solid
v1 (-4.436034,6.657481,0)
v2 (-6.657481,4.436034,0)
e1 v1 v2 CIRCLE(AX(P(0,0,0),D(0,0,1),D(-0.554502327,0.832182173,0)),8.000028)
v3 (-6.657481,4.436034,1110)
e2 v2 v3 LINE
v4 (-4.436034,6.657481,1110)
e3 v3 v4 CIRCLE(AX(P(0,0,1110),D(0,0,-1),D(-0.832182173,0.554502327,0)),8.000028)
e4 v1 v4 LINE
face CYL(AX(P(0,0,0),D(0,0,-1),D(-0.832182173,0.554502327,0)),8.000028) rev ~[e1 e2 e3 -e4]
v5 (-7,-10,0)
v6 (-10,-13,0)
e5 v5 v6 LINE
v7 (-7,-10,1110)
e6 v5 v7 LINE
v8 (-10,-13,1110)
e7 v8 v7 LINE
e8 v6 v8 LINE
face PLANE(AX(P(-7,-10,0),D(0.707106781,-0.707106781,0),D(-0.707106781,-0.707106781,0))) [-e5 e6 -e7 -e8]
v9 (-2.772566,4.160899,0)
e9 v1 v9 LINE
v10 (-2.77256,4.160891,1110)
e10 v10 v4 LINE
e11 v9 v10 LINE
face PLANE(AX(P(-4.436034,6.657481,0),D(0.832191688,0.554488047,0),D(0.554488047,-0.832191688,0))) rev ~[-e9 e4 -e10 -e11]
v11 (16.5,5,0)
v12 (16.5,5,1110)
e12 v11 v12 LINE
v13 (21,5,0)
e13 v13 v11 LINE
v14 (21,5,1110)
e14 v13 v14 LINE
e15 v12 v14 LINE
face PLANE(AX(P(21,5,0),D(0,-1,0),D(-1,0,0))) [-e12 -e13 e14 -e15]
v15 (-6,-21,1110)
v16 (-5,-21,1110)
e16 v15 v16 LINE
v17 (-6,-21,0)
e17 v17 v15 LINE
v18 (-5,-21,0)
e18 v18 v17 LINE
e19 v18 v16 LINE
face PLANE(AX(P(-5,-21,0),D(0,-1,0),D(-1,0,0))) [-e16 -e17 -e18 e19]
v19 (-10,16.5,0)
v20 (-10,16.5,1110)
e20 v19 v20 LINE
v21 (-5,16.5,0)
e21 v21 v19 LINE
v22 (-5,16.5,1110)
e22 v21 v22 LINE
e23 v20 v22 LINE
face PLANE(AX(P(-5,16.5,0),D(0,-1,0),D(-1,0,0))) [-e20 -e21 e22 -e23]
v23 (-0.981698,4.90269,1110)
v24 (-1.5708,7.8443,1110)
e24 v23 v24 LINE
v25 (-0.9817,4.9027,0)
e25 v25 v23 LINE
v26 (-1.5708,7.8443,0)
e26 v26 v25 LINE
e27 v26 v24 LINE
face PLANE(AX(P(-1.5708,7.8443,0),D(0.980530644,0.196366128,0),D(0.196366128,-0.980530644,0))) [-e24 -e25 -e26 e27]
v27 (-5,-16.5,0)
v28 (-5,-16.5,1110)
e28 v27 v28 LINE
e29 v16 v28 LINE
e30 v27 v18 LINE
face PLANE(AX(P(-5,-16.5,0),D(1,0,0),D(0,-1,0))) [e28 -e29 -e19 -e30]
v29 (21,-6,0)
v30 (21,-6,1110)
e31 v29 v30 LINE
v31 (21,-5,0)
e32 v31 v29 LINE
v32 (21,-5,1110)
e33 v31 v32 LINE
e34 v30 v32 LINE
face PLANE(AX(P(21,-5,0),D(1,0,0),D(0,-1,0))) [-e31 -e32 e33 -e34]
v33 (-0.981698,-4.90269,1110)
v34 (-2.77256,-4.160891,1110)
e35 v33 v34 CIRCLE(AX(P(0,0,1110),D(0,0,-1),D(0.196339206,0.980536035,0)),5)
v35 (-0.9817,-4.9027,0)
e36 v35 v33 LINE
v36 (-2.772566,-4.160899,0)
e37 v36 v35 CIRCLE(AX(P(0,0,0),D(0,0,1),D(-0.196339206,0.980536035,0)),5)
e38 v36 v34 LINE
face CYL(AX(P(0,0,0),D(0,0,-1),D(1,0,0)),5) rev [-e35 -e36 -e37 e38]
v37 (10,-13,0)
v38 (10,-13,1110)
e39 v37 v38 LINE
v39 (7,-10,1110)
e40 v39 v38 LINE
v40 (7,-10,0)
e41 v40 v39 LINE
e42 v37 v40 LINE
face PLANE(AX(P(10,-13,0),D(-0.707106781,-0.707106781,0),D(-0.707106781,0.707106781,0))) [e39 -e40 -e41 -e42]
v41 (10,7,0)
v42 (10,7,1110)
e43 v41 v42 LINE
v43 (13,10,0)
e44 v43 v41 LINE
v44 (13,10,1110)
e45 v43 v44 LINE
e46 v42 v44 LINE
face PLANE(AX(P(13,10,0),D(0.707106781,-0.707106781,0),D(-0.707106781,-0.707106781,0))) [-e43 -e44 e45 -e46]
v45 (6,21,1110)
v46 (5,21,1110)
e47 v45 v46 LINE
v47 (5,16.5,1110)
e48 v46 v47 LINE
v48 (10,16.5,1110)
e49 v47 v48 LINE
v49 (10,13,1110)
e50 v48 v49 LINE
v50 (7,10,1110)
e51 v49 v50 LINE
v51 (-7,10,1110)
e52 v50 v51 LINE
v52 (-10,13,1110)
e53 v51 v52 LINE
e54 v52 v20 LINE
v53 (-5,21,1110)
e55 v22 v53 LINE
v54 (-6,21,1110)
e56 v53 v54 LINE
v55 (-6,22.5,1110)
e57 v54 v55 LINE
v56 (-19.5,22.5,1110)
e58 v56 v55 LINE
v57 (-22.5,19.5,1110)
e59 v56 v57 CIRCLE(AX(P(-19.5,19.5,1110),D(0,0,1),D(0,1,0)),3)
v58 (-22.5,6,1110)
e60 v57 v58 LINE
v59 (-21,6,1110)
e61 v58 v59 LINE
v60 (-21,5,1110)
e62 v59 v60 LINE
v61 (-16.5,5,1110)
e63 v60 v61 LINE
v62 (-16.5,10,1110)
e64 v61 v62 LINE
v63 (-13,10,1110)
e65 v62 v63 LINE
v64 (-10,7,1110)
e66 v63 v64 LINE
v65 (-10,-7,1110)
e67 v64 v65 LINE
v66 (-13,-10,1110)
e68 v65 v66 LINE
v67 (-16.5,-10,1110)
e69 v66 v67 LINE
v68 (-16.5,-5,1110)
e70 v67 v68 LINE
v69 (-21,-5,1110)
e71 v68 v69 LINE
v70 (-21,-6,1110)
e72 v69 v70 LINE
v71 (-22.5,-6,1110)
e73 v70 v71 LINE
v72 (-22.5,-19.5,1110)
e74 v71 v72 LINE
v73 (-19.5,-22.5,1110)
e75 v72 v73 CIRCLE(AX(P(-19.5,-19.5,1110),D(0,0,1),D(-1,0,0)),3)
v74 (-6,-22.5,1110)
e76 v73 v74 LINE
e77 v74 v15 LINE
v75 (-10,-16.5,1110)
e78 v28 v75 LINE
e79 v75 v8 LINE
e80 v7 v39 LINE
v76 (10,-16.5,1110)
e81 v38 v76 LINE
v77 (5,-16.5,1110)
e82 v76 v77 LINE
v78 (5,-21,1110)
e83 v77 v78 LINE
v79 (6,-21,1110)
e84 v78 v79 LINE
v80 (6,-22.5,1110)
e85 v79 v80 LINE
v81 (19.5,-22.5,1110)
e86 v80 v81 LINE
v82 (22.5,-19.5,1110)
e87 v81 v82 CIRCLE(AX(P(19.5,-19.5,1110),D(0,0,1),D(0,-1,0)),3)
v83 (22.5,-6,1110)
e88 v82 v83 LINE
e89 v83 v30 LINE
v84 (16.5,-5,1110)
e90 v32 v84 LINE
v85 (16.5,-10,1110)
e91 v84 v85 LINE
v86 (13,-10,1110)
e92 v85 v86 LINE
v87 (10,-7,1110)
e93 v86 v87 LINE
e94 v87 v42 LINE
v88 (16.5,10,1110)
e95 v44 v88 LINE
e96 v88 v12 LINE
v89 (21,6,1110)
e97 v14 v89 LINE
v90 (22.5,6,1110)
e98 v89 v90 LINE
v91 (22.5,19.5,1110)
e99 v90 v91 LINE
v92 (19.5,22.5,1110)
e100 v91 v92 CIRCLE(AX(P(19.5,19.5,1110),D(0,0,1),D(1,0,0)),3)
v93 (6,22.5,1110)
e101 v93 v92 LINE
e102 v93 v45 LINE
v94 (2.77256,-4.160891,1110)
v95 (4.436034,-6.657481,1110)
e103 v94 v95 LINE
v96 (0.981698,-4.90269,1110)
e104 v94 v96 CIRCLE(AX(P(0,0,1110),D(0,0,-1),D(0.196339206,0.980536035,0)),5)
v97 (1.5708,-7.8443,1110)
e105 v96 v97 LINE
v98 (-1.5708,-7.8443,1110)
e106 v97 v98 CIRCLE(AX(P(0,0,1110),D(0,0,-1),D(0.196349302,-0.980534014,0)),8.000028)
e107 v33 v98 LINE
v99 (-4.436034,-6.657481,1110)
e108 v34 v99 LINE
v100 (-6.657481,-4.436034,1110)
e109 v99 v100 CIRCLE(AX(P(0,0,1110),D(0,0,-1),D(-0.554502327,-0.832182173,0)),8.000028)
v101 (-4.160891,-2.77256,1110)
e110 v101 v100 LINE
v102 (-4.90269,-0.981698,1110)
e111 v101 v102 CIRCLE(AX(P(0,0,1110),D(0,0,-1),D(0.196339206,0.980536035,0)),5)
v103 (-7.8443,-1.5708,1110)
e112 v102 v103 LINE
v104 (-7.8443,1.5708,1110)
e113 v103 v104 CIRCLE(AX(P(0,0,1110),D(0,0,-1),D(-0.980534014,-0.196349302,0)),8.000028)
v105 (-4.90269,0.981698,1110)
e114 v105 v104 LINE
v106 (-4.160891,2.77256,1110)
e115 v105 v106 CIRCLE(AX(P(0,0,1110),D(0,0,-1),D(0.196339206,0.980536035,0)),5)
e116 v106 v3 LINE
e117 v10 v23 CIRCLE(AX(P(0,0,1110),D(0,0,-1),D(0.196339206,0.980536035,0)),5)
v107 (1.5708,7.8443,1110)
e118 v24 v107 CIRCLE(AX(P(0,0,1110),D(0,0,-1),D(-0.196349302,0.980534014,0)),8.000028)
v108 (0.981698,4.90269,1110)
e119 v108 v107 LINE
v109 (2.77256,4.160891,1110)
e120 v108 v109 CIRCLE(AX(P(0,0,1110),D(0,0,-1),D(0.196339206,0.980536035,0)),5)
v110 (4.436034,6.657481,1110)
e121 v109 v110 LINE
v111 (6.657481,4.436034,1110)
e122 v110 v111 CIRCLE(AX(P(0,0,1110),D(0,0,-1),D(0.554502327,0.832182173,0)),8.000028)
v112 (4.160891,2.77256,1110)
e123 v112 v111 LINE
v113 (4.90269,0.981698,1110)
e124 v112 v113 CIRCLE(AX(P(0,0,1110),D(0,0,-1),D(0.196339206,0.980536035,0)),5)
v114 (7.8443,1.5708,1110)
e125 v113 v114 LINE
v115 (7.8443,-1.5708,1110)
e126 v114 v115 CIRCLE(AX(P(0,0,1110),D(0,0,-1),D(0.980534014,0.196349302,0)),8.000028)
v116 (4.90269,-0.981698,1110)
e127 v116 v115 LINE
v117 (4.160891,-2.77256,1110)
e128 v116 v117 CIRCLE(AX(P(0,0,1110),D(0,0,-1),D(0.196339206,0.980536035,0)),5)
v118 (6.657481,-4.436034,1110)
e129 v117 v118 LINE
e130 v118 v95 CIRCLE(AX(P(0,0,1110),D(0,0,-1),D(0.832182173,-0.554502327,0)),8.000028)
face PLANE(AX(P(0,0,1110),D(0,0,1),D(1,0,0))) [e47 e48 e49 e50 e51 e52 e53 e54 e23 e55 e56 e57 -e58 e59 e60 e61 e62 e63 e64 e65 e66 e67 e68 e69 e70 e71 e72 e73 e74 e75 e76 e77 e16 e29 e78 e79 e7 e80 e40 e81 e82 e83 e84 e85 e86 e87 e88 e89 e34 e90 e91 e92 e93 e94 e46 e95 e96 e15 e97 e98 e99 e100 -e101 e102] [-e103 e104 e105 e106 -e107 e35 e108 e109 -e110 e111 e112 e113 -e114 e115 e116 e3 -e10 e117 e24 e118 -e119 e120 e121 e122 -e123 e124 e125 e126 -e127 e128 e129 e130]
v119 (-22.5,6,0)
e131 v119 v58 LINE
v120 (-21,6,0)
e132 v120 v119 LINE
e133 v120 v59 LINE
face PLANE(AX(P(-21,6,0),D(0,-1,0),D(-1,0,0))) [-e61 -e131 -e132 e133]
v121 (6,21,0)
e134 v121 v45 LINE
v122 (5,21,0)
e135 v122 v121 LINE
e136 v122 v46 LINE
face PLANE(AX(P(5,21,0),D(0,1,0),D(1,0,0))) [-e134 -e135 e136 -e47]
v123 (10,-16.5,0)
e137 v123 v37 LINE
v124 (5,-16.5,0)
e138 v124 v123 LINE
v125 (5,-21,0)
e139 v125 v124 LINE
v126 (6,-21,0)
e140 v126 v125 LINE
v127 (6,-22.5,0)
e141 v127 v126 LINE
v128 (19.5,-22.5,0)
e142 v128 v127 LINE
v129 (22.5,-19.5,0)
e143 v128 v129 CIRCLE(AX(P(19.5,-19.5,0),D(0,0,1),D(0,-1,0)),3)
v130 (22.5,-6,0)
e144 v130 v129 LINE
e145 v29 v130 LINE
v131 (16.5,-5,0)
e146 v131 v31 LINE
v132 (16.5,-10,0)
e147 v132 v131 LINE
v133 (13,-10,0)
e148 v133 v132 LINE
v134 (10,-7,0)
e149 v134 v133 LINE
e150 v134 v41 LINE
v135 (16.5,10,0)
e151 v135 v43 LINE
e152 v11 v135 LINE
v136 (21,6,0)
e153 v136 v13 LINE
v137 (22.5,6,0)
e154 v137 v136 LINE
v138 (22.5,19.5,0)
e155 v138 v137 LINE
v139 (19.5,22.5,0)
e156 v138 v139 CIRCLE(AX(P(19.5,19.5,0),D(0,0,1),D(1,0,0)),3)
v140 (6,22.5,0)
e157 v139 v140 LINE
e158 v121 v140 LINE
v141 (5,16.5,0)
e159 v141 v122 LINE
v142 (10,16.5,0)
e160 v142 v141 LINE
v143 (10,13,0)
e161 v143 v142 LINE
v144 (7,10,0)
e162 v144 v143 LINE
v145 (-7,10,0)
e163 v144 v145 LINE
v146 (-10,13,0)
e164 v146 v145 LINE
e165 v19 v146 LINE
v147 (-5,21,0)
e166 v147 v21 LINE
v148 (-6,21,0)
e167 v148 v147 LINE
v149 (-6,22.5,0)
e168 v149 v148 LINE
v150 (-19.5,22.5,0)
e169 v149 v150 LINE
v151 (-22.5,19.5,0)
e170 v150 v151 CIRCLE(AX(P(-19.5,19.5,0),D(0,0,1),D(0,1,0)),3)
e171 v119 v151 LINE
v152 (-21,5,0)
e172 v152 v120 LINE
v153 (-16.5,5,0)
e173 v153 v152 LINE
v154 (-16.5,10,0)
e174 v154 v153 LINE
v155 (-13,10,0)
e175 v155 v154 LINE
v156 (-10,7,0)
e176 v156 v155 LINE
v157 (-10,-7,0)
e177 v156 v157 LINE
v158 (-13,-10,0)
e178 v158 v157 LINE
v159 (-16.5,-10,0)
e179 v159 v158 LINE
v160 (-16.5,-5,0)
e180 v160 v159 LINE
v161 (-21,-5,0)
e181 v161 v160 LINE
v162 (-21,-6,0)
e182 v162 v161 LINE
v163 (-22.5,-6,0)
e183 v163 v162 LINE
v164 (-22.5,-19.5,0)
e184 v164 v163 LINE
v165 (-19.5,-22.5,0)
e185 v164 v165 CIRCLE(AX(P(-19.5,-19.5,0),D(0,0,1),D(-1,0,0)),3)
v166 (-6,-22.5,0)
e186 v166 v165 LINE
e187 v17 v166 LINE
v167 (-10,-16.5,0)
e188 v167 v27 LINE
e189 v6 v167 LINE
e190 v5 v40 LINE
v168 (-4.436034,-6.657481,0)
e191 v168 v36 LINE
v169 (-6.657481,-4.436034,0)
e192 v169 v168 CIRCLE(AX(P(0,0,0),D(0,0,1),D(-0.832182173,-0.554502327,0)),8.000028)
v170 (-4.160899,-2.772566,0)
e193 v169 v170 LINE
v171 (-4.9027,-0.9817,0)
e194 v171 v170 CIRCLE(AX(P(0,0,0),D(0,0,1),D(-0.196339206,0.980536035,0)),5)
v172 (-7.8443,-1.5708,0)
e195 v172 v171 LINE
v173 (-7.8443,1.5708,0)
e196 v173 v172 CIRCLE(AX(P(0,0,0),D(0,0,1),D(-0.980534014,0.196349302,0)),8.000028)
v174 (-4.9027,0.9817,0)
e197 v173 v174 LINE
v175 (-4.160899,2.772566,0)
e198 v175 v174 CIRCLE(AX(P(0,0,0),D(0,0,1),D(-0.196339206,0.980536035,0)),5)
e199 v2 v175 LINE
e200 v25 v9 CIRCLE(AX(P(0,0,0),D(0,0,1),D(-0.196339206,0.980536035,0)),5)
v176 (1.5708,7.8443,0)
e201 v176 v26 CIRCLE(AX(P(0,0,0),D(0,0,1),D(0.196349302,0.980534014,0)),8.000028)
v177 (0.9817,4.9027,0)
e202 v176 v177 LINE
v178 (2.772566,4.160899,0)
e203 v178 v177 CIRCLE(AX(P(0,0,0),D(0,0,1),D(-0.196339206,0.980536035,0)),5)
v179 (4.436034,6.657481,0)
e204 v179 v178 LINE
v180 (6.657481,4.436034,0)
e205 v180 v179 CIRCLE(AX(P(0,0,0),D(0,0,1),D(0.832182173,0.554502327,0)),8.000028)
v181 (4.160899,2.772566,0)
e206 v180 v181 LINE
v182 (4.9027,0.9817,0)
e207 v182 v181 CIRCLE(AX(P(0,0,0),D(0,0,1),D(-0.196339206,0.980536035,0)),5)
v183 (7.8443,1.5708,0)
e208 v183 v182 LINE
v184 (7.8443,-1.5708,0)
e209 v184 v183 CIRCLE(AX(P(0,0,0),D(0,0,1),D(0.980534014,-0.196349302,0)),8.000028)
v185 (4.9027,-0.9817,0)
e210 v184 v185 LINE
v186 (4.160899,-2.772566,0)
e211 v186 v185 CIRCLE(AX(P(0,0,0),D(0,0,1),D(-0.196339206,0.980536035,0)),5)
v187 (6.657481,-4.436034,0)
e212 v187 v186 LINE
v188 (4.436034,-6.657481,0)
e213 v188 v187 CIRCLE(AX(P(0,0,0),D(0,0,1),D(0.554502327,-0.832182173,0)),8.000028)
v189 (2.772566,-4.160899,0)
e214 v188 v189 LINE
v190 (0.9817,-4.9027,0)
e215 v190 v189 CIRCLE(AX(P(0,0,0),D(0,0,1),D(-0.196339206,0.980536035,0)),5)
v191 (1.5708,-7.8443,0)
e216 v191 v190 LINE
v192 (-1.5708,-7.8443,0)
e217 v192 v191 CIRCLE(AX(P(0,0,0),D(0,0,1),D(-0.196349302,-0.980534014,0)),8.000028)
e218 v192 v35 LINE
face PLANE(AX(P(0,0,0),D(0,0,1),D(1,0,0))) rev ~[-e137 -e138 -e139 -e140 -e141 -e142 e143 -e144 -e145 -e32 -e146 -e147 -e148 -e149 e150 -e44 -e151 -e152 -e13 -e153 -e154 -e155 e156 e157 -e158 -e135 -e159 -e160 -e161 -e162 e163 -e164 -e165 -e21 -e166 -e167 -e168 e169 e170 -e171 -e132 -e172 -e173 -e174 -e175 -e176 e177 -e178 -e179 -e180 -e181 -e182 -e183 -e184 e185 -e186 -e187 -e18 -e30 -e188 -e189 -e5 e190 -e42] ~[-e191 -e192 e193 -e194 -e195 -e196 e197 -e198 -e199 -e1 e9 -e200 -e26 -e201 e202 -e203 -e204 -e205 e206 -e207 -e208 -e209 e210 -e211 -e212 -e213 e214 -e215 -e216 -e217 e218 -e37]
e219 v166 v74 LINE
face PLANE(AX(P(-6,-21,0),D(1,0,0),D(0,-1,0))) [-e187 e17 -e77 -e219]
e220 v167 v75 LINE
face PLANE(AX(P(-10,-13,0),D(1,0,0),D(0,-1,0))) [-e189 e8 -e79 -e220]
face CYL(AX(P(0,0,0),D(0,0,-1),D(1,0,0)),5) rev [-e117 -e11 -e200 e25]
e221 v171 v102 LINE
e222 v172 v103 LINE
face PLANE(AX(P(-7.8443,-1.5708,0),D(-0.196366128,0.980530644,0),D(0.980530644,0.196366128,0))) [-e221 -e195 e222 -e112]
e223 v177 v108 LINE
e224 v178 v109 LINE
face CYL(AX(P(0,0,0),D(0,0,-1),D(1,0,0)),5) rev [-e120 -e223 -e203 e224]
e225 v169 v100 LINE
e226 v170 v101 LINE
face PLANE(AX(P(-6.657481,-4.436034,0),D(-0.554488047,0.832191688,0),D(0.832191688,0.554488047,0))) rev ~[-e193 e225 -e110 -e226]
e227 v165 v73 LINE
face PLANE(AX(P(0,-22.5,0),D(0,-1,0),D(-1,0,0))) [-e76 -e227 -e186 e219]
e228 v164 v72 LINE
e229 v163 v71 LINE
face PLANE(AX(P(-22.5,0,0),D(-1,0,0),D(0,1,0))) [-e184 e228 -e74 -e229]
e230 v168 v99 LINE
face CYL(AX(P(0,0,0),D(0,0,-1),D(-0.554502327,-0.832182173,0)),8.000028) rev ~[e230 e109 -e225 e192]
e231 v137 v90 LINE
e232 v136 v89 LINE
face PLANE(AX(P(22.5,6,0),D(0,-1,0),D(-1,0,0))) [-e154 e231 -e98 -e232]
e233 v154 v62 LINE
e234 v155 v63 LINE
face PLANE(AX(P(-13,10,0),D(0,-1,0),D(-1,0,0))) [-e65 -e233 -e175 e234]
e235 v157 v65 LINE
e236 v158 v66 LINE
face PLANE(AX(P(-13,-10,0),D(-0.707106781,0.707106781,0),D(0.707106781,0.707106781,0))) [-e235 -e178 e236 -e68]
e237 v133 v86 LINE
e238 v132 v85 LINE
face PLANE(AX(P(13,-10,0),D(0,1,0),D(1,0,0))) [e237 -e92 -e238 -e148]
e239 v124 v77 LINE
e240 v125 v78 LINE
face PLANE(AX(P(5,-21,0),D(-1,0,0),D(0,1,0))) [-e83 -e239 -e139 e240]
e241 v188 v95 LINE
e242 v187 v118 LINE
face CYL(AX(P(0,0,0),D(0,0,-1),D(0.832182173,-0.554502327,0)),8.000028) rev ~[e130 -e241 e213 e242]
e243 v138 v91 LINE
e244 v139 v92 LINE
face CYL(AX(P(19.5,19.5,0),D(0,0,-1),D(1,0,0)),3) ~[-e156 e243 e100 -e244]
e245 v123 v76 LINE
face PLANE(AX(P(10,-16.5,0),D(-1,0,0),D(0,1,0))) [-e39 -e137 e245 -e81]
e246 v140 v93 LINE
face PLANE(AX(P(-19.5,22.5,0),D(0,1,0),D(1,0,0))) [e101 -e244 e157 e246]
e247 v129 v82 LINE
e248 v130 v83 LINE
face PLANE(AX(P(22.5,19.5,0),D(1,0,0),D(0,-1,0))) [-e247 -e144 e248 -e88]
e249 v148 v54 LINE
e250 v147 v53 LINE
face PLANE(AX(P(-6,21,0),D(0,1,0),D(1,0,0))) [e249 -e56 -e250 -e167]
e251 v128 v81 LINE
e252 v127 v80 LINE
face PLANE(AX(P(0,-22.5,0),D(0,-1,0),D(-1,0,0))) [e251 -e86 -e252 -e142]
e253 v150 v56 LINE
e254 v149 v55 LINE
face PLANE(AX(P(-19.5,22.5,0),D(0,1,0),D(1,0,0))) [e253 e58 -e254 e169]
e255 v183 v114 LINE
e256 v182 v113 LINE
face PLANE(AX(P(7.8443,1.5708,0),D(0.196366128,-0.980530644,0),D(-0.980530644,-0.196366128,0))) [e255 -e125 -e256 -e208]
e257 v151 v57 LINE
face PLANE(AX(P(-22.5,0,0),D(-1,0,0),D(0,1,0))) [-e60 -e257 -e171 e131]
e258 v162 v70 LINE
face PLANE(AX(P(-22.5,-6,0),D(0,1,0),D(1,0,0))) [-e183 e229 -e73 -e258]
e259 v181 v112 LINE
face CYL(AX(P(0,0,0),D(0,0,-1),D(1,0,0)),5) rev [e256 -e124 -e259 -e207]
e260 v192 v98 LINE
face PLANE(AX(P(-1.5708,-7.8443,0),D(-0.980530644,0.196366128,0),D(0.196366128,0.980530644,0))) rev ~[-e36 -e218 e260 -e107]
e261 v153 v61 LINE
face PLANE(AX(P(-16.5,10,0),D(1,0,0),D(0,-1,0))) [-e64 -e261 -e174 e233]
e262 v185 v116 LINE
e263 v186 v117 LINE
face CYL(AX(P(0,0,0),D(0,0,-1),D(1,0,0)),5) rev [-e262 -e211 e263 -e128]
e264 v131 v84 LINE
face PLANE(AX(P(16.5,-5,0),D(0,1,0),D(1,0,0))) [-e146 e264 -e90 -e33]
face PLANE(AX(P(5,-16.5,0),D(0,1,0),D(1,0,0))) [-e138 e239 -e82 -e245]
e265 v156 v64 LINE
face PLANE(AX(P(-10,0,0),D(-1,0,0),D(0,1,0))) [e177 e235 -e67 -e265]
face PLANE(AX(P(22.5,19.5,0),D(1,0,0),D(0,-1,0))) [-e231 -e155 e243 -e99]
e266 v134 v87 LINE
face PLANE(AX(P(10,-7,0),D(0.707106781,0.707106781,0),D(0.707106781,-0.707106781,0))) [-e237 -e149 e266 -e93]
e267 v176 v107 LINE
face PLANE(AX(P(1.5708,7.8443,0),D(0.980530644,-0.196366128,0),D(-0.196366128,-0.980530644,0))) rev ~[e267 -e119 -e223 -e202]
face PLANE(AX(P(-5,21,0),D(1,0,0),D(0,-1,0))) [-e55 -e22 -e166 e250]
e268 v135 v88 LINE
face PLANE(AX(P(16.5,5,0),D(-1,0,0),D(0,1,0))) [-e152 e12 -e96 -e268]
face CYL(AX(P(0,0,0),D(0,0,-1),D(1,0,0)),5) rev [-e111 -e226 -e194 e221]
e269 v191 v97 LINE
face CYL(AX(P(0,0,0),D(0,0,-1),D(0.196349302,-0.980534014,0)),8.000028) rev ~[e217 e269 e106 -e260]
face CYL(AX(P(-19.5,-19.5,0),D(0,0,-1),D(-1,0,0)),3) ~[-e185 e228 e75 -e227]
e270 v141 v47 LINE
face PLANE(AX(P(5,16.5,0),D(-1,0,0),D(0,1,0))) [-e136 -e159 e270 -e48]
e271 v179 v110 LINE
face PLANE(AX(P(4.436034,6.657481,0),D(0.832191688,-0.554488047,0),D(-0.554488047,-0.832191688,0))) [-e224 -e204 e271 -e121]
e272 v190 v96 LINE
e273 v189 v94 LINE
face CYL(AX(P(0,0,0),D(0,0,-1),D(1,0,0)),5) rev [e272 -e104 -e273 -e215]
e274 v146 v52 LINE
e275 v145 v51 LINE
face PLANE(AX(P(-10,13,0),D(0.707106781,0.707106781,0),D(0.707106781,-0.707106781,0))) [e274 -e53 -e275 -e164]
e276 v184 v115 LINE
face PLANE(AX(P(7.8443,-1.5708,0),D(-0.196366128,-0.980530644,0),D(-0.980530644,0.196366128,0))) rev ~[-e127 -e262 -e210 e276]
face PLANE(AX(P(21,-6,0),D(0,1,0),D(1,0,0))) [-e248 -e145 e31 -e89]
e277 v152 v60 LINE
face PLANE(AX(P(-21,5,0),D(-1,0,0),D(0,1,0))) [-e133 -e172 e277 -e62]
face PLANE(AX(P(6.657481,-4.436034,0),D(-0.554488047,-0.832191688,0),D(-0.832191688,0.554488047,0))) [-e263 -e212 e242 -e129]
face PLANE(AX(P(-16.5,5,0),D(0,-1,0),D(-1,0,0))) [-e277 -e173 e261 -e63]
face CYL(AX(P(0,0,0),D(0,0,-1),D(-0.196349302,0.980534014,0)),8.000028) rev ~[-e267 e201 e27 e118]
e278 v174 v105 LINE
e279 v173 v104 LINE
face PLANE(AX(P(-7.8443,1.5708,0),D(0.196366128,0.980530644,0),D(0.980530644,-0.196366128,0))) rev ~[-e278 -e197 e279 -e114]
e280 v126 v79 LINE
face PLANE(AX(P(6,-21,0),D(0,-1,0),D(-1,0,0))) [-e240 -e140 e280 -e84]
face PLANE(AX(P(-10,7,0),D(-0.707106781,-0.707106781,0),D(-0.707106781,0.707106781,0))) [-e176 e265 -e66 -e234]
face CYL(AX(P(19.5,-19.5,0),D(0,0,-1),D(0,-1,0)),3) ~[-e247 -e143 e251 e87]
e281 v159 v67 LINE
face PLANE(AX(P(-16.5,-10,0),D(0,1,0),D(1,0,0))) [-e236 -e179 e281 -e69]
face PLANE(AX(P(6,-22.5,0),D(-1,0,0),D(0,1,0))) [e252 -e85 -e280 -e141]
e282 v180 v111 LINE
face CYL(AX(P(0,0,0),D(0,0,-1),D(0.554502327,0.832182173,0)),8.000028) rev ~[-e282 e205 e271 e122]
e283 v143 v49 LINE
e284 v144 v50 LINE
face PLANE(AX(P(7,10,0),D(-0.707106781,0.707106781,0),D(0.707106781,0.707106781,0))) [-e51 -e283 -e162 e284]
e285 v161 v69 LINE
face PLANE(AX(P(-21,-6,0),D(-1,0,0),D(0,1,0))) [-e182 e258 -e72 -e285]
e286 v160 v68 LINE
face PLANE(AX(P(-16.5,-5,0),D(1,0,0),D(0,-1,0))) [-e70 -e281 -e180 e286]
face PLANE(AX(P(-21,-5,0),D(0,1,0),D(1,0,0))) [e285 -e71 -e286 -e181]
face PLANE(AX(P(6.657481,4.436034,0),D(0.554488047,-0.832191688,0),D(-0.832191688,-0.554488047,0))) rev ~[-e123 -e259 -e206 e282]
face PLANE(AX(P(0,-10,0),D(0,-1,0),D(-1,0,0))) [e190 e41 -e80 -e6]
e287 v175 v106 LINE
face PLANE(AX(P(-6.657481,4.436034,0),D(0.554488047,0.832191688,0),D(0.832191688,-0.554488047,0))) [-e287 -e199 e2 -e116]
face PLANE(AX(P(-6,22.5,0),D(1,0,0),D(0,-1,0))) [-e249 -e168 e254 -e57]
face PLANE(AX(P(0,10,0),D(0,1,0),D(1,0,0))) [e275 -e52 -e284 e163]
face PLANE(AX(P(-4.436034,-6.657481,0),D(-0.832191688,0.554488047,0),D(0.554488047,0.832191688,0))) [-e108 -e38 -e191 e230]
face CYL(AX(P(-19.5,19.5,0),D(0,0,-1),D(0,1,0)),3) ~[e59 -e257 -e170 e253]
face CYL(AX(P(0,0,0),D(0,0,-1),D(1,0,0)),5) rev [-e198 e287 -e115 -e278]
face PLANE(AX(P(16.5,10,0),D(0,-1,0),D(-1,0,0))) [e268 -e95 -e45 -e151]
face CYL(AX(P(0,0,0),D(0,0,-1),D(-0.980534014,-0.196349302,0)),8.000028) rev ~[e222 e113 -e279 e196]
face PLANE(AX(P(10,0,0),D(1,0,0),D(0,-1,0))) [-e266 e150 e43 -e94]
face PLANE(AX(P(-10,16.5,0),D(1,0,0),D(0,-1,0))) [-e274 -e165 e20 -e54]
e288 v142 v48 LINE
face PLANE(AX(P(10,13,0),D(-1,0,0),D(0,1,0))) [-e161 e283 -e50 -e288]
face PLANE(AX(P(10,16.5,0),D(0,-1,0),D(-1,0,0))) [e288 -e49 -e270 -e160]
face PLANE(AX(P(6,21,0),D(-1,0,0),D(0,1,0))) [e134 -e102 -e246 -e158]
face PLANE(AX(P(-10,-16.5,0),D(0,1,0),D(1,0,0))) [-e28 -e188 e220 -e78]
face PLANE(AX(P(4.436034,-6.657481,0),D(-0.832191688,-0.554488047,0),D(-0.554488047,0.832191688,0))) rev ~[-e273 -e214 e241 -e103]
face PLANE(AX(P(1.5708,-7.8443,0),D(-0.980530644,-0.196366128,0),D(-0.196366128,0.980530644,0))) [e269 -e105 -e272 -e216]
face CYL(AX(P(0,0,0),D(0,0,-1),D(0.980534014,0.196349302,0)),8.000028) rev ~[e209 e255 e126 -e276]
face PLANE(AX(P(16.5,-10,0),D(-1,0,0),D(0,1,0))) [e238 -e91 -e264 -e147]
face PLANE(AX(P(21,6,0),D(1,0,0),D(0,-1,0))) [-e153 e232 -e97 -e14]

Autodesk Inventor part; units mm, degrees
ref_plane "YZ Plane" through (0, 0, 0) normal (1, 0, 0) x (0, 1, 0)
ref_plane "XZ Plane" through (0, 0, 0) normal (0, 1, 0) x (-1, 0, 0)
ref_plane "XY Plane" through (0, 0, 0) normal (0, 0, 1) x (1, 0, 0)
sketch "Skizze1" plane through (0, 0, 0) normal (0, 0, 1) x (1, 0, 0)
  line L0 (-19.5, 22.5) -> (19.5, 22.5)
  line L1 (22.5, 19.5) -> (22.5, -19.5)
  line L2 (19.5, -22.5) -> (-19.5, -22.5)
  line L3 (-22.5, -19.5) -> (-22.5, 19.5)
  circle A0 centre (0, 0) radius 5
  line L4 (-32.3698, 0) -> (32.3698, 0) projected
  line L5 (0, -32.3698) -> (0, 32.3698) projected
  arc A1 (22.5, 19.5) -> (19.5, 22.5) centre (19.5, 19.5) ccw
  arc A2 (-19.5, 22.5) -> (-22.5, 19.5) centre (-19.5, 19.5) ccw
  arc A3 (-22.5, -19.5) -> (-19.5, -22.5) centre (-19.5, -19.5) ccw
  arc A4 (19.5, -22.5) -> (22.5, -19.5) centre (19.5, -19.5) ccw
  point P0 (-22.5, 22.5)
  point P1 (22.5, 22.5)
  point P2 (-22.5, -22.5)
  dimension "d0" = 45
  dimension "d1" = 45
  dimension "d2" = 10
  dimension "d3" = 3
extrude "Extrusion1" add sketch "Skizze1" along normal blind 1110 contours L0 L5 A0 L4 L3 A2 | L0 A1 L1 L4 A0 L5 | L4 A0 L5 L2 A3 L3 | L4 L1 A4 L2 L5 A0
sketch "Skizze2" plane through (0, 0, 0) normal (0, 0, -1) x (-1, 0, 0)
  line L0 (19.5, -22.5) -> (-19.5, -22.5) projected
  line L1 (31.5, 0) -> (-31.5, 0) projected
  line L2 (0, -31.5) -> (0, 31.5) projected
  line L3 (-6, -22.5) -> (-6, -21)
  line L4 (-6, -21) -> (-5, -21)
  line L5 (-5, -21) -> (-5, -16.5)
  line L6 (-5, -16.5) -> (-10, -16.5)
  line L7 (-10, -16.5) -> (-10, -13)
  line L8 (-10, -13) -> (-7, -10)
  line L9 (-7, -10) -> (7, -10)
  line L10 (7, -10) -> (10, -13)
  line L11 (10, -13) -> (10, -16.5)
  line L12 (10, -16.5) -> (5, -16.5)
  line L13 (5, -16.5) -> (5, -21)
  line L14 (5, -21) -> (6, -21)
  line L15 (6, -21) -> (6, -22.5)
  dimension "d6" = 10
  dimension "d7" = 20
  dimension "d8" = 12
  dimension "d9" = 1.5
  dimension "d10" = 12.5
  dimension "d11" = 135
  dimension "d12" = 6
  dimension "d13" = 3.5
extrude "Extrusion2" cut sketch "Skizze2" against normal through all
pattern_circular "Runde Anordnung1" count 4 over 360 about axis through (0, 0, 0) along (0, 0, 1) of "Extrusion2"
sketch "Skizze3" plane through (0, 0, 0) normal (0, 0, -1) x (-1, 0, 0)
  circle A0 centre (0, 0) radius 5 projected
  line L0 (31.5, 0) -> (-31.5, 0) projected
  line L1 (0, -31.5) -> (0, 31.5) projected
  line L2 (-1.5708, 7.8443) -> (-0.9817, 4.9027)
  line L3 (1.5708, 7.8443) -> (0.9817, 4.9027)
  arc A1 (1.5708, 7.8443) -> (-1.5708, 7.8443) centre (0, 0) ccw
  dimension "d20" = 1.9635
  dimension "d21" = 3.1416
  dimension "d22" = 8
extrude "Extrusion3" cut sketch "Skizze3" against normal through all contours A0 L1 A1 L3 | A0 L2 A1 L1
pattern_circular "Runde Anordnung2" count 8 over 360 about axis through (0, 0, 0) along (0, 0, 1) of "Extrusion3"
properties part number "Alu-Profil Nut 10 45x45 1110"
